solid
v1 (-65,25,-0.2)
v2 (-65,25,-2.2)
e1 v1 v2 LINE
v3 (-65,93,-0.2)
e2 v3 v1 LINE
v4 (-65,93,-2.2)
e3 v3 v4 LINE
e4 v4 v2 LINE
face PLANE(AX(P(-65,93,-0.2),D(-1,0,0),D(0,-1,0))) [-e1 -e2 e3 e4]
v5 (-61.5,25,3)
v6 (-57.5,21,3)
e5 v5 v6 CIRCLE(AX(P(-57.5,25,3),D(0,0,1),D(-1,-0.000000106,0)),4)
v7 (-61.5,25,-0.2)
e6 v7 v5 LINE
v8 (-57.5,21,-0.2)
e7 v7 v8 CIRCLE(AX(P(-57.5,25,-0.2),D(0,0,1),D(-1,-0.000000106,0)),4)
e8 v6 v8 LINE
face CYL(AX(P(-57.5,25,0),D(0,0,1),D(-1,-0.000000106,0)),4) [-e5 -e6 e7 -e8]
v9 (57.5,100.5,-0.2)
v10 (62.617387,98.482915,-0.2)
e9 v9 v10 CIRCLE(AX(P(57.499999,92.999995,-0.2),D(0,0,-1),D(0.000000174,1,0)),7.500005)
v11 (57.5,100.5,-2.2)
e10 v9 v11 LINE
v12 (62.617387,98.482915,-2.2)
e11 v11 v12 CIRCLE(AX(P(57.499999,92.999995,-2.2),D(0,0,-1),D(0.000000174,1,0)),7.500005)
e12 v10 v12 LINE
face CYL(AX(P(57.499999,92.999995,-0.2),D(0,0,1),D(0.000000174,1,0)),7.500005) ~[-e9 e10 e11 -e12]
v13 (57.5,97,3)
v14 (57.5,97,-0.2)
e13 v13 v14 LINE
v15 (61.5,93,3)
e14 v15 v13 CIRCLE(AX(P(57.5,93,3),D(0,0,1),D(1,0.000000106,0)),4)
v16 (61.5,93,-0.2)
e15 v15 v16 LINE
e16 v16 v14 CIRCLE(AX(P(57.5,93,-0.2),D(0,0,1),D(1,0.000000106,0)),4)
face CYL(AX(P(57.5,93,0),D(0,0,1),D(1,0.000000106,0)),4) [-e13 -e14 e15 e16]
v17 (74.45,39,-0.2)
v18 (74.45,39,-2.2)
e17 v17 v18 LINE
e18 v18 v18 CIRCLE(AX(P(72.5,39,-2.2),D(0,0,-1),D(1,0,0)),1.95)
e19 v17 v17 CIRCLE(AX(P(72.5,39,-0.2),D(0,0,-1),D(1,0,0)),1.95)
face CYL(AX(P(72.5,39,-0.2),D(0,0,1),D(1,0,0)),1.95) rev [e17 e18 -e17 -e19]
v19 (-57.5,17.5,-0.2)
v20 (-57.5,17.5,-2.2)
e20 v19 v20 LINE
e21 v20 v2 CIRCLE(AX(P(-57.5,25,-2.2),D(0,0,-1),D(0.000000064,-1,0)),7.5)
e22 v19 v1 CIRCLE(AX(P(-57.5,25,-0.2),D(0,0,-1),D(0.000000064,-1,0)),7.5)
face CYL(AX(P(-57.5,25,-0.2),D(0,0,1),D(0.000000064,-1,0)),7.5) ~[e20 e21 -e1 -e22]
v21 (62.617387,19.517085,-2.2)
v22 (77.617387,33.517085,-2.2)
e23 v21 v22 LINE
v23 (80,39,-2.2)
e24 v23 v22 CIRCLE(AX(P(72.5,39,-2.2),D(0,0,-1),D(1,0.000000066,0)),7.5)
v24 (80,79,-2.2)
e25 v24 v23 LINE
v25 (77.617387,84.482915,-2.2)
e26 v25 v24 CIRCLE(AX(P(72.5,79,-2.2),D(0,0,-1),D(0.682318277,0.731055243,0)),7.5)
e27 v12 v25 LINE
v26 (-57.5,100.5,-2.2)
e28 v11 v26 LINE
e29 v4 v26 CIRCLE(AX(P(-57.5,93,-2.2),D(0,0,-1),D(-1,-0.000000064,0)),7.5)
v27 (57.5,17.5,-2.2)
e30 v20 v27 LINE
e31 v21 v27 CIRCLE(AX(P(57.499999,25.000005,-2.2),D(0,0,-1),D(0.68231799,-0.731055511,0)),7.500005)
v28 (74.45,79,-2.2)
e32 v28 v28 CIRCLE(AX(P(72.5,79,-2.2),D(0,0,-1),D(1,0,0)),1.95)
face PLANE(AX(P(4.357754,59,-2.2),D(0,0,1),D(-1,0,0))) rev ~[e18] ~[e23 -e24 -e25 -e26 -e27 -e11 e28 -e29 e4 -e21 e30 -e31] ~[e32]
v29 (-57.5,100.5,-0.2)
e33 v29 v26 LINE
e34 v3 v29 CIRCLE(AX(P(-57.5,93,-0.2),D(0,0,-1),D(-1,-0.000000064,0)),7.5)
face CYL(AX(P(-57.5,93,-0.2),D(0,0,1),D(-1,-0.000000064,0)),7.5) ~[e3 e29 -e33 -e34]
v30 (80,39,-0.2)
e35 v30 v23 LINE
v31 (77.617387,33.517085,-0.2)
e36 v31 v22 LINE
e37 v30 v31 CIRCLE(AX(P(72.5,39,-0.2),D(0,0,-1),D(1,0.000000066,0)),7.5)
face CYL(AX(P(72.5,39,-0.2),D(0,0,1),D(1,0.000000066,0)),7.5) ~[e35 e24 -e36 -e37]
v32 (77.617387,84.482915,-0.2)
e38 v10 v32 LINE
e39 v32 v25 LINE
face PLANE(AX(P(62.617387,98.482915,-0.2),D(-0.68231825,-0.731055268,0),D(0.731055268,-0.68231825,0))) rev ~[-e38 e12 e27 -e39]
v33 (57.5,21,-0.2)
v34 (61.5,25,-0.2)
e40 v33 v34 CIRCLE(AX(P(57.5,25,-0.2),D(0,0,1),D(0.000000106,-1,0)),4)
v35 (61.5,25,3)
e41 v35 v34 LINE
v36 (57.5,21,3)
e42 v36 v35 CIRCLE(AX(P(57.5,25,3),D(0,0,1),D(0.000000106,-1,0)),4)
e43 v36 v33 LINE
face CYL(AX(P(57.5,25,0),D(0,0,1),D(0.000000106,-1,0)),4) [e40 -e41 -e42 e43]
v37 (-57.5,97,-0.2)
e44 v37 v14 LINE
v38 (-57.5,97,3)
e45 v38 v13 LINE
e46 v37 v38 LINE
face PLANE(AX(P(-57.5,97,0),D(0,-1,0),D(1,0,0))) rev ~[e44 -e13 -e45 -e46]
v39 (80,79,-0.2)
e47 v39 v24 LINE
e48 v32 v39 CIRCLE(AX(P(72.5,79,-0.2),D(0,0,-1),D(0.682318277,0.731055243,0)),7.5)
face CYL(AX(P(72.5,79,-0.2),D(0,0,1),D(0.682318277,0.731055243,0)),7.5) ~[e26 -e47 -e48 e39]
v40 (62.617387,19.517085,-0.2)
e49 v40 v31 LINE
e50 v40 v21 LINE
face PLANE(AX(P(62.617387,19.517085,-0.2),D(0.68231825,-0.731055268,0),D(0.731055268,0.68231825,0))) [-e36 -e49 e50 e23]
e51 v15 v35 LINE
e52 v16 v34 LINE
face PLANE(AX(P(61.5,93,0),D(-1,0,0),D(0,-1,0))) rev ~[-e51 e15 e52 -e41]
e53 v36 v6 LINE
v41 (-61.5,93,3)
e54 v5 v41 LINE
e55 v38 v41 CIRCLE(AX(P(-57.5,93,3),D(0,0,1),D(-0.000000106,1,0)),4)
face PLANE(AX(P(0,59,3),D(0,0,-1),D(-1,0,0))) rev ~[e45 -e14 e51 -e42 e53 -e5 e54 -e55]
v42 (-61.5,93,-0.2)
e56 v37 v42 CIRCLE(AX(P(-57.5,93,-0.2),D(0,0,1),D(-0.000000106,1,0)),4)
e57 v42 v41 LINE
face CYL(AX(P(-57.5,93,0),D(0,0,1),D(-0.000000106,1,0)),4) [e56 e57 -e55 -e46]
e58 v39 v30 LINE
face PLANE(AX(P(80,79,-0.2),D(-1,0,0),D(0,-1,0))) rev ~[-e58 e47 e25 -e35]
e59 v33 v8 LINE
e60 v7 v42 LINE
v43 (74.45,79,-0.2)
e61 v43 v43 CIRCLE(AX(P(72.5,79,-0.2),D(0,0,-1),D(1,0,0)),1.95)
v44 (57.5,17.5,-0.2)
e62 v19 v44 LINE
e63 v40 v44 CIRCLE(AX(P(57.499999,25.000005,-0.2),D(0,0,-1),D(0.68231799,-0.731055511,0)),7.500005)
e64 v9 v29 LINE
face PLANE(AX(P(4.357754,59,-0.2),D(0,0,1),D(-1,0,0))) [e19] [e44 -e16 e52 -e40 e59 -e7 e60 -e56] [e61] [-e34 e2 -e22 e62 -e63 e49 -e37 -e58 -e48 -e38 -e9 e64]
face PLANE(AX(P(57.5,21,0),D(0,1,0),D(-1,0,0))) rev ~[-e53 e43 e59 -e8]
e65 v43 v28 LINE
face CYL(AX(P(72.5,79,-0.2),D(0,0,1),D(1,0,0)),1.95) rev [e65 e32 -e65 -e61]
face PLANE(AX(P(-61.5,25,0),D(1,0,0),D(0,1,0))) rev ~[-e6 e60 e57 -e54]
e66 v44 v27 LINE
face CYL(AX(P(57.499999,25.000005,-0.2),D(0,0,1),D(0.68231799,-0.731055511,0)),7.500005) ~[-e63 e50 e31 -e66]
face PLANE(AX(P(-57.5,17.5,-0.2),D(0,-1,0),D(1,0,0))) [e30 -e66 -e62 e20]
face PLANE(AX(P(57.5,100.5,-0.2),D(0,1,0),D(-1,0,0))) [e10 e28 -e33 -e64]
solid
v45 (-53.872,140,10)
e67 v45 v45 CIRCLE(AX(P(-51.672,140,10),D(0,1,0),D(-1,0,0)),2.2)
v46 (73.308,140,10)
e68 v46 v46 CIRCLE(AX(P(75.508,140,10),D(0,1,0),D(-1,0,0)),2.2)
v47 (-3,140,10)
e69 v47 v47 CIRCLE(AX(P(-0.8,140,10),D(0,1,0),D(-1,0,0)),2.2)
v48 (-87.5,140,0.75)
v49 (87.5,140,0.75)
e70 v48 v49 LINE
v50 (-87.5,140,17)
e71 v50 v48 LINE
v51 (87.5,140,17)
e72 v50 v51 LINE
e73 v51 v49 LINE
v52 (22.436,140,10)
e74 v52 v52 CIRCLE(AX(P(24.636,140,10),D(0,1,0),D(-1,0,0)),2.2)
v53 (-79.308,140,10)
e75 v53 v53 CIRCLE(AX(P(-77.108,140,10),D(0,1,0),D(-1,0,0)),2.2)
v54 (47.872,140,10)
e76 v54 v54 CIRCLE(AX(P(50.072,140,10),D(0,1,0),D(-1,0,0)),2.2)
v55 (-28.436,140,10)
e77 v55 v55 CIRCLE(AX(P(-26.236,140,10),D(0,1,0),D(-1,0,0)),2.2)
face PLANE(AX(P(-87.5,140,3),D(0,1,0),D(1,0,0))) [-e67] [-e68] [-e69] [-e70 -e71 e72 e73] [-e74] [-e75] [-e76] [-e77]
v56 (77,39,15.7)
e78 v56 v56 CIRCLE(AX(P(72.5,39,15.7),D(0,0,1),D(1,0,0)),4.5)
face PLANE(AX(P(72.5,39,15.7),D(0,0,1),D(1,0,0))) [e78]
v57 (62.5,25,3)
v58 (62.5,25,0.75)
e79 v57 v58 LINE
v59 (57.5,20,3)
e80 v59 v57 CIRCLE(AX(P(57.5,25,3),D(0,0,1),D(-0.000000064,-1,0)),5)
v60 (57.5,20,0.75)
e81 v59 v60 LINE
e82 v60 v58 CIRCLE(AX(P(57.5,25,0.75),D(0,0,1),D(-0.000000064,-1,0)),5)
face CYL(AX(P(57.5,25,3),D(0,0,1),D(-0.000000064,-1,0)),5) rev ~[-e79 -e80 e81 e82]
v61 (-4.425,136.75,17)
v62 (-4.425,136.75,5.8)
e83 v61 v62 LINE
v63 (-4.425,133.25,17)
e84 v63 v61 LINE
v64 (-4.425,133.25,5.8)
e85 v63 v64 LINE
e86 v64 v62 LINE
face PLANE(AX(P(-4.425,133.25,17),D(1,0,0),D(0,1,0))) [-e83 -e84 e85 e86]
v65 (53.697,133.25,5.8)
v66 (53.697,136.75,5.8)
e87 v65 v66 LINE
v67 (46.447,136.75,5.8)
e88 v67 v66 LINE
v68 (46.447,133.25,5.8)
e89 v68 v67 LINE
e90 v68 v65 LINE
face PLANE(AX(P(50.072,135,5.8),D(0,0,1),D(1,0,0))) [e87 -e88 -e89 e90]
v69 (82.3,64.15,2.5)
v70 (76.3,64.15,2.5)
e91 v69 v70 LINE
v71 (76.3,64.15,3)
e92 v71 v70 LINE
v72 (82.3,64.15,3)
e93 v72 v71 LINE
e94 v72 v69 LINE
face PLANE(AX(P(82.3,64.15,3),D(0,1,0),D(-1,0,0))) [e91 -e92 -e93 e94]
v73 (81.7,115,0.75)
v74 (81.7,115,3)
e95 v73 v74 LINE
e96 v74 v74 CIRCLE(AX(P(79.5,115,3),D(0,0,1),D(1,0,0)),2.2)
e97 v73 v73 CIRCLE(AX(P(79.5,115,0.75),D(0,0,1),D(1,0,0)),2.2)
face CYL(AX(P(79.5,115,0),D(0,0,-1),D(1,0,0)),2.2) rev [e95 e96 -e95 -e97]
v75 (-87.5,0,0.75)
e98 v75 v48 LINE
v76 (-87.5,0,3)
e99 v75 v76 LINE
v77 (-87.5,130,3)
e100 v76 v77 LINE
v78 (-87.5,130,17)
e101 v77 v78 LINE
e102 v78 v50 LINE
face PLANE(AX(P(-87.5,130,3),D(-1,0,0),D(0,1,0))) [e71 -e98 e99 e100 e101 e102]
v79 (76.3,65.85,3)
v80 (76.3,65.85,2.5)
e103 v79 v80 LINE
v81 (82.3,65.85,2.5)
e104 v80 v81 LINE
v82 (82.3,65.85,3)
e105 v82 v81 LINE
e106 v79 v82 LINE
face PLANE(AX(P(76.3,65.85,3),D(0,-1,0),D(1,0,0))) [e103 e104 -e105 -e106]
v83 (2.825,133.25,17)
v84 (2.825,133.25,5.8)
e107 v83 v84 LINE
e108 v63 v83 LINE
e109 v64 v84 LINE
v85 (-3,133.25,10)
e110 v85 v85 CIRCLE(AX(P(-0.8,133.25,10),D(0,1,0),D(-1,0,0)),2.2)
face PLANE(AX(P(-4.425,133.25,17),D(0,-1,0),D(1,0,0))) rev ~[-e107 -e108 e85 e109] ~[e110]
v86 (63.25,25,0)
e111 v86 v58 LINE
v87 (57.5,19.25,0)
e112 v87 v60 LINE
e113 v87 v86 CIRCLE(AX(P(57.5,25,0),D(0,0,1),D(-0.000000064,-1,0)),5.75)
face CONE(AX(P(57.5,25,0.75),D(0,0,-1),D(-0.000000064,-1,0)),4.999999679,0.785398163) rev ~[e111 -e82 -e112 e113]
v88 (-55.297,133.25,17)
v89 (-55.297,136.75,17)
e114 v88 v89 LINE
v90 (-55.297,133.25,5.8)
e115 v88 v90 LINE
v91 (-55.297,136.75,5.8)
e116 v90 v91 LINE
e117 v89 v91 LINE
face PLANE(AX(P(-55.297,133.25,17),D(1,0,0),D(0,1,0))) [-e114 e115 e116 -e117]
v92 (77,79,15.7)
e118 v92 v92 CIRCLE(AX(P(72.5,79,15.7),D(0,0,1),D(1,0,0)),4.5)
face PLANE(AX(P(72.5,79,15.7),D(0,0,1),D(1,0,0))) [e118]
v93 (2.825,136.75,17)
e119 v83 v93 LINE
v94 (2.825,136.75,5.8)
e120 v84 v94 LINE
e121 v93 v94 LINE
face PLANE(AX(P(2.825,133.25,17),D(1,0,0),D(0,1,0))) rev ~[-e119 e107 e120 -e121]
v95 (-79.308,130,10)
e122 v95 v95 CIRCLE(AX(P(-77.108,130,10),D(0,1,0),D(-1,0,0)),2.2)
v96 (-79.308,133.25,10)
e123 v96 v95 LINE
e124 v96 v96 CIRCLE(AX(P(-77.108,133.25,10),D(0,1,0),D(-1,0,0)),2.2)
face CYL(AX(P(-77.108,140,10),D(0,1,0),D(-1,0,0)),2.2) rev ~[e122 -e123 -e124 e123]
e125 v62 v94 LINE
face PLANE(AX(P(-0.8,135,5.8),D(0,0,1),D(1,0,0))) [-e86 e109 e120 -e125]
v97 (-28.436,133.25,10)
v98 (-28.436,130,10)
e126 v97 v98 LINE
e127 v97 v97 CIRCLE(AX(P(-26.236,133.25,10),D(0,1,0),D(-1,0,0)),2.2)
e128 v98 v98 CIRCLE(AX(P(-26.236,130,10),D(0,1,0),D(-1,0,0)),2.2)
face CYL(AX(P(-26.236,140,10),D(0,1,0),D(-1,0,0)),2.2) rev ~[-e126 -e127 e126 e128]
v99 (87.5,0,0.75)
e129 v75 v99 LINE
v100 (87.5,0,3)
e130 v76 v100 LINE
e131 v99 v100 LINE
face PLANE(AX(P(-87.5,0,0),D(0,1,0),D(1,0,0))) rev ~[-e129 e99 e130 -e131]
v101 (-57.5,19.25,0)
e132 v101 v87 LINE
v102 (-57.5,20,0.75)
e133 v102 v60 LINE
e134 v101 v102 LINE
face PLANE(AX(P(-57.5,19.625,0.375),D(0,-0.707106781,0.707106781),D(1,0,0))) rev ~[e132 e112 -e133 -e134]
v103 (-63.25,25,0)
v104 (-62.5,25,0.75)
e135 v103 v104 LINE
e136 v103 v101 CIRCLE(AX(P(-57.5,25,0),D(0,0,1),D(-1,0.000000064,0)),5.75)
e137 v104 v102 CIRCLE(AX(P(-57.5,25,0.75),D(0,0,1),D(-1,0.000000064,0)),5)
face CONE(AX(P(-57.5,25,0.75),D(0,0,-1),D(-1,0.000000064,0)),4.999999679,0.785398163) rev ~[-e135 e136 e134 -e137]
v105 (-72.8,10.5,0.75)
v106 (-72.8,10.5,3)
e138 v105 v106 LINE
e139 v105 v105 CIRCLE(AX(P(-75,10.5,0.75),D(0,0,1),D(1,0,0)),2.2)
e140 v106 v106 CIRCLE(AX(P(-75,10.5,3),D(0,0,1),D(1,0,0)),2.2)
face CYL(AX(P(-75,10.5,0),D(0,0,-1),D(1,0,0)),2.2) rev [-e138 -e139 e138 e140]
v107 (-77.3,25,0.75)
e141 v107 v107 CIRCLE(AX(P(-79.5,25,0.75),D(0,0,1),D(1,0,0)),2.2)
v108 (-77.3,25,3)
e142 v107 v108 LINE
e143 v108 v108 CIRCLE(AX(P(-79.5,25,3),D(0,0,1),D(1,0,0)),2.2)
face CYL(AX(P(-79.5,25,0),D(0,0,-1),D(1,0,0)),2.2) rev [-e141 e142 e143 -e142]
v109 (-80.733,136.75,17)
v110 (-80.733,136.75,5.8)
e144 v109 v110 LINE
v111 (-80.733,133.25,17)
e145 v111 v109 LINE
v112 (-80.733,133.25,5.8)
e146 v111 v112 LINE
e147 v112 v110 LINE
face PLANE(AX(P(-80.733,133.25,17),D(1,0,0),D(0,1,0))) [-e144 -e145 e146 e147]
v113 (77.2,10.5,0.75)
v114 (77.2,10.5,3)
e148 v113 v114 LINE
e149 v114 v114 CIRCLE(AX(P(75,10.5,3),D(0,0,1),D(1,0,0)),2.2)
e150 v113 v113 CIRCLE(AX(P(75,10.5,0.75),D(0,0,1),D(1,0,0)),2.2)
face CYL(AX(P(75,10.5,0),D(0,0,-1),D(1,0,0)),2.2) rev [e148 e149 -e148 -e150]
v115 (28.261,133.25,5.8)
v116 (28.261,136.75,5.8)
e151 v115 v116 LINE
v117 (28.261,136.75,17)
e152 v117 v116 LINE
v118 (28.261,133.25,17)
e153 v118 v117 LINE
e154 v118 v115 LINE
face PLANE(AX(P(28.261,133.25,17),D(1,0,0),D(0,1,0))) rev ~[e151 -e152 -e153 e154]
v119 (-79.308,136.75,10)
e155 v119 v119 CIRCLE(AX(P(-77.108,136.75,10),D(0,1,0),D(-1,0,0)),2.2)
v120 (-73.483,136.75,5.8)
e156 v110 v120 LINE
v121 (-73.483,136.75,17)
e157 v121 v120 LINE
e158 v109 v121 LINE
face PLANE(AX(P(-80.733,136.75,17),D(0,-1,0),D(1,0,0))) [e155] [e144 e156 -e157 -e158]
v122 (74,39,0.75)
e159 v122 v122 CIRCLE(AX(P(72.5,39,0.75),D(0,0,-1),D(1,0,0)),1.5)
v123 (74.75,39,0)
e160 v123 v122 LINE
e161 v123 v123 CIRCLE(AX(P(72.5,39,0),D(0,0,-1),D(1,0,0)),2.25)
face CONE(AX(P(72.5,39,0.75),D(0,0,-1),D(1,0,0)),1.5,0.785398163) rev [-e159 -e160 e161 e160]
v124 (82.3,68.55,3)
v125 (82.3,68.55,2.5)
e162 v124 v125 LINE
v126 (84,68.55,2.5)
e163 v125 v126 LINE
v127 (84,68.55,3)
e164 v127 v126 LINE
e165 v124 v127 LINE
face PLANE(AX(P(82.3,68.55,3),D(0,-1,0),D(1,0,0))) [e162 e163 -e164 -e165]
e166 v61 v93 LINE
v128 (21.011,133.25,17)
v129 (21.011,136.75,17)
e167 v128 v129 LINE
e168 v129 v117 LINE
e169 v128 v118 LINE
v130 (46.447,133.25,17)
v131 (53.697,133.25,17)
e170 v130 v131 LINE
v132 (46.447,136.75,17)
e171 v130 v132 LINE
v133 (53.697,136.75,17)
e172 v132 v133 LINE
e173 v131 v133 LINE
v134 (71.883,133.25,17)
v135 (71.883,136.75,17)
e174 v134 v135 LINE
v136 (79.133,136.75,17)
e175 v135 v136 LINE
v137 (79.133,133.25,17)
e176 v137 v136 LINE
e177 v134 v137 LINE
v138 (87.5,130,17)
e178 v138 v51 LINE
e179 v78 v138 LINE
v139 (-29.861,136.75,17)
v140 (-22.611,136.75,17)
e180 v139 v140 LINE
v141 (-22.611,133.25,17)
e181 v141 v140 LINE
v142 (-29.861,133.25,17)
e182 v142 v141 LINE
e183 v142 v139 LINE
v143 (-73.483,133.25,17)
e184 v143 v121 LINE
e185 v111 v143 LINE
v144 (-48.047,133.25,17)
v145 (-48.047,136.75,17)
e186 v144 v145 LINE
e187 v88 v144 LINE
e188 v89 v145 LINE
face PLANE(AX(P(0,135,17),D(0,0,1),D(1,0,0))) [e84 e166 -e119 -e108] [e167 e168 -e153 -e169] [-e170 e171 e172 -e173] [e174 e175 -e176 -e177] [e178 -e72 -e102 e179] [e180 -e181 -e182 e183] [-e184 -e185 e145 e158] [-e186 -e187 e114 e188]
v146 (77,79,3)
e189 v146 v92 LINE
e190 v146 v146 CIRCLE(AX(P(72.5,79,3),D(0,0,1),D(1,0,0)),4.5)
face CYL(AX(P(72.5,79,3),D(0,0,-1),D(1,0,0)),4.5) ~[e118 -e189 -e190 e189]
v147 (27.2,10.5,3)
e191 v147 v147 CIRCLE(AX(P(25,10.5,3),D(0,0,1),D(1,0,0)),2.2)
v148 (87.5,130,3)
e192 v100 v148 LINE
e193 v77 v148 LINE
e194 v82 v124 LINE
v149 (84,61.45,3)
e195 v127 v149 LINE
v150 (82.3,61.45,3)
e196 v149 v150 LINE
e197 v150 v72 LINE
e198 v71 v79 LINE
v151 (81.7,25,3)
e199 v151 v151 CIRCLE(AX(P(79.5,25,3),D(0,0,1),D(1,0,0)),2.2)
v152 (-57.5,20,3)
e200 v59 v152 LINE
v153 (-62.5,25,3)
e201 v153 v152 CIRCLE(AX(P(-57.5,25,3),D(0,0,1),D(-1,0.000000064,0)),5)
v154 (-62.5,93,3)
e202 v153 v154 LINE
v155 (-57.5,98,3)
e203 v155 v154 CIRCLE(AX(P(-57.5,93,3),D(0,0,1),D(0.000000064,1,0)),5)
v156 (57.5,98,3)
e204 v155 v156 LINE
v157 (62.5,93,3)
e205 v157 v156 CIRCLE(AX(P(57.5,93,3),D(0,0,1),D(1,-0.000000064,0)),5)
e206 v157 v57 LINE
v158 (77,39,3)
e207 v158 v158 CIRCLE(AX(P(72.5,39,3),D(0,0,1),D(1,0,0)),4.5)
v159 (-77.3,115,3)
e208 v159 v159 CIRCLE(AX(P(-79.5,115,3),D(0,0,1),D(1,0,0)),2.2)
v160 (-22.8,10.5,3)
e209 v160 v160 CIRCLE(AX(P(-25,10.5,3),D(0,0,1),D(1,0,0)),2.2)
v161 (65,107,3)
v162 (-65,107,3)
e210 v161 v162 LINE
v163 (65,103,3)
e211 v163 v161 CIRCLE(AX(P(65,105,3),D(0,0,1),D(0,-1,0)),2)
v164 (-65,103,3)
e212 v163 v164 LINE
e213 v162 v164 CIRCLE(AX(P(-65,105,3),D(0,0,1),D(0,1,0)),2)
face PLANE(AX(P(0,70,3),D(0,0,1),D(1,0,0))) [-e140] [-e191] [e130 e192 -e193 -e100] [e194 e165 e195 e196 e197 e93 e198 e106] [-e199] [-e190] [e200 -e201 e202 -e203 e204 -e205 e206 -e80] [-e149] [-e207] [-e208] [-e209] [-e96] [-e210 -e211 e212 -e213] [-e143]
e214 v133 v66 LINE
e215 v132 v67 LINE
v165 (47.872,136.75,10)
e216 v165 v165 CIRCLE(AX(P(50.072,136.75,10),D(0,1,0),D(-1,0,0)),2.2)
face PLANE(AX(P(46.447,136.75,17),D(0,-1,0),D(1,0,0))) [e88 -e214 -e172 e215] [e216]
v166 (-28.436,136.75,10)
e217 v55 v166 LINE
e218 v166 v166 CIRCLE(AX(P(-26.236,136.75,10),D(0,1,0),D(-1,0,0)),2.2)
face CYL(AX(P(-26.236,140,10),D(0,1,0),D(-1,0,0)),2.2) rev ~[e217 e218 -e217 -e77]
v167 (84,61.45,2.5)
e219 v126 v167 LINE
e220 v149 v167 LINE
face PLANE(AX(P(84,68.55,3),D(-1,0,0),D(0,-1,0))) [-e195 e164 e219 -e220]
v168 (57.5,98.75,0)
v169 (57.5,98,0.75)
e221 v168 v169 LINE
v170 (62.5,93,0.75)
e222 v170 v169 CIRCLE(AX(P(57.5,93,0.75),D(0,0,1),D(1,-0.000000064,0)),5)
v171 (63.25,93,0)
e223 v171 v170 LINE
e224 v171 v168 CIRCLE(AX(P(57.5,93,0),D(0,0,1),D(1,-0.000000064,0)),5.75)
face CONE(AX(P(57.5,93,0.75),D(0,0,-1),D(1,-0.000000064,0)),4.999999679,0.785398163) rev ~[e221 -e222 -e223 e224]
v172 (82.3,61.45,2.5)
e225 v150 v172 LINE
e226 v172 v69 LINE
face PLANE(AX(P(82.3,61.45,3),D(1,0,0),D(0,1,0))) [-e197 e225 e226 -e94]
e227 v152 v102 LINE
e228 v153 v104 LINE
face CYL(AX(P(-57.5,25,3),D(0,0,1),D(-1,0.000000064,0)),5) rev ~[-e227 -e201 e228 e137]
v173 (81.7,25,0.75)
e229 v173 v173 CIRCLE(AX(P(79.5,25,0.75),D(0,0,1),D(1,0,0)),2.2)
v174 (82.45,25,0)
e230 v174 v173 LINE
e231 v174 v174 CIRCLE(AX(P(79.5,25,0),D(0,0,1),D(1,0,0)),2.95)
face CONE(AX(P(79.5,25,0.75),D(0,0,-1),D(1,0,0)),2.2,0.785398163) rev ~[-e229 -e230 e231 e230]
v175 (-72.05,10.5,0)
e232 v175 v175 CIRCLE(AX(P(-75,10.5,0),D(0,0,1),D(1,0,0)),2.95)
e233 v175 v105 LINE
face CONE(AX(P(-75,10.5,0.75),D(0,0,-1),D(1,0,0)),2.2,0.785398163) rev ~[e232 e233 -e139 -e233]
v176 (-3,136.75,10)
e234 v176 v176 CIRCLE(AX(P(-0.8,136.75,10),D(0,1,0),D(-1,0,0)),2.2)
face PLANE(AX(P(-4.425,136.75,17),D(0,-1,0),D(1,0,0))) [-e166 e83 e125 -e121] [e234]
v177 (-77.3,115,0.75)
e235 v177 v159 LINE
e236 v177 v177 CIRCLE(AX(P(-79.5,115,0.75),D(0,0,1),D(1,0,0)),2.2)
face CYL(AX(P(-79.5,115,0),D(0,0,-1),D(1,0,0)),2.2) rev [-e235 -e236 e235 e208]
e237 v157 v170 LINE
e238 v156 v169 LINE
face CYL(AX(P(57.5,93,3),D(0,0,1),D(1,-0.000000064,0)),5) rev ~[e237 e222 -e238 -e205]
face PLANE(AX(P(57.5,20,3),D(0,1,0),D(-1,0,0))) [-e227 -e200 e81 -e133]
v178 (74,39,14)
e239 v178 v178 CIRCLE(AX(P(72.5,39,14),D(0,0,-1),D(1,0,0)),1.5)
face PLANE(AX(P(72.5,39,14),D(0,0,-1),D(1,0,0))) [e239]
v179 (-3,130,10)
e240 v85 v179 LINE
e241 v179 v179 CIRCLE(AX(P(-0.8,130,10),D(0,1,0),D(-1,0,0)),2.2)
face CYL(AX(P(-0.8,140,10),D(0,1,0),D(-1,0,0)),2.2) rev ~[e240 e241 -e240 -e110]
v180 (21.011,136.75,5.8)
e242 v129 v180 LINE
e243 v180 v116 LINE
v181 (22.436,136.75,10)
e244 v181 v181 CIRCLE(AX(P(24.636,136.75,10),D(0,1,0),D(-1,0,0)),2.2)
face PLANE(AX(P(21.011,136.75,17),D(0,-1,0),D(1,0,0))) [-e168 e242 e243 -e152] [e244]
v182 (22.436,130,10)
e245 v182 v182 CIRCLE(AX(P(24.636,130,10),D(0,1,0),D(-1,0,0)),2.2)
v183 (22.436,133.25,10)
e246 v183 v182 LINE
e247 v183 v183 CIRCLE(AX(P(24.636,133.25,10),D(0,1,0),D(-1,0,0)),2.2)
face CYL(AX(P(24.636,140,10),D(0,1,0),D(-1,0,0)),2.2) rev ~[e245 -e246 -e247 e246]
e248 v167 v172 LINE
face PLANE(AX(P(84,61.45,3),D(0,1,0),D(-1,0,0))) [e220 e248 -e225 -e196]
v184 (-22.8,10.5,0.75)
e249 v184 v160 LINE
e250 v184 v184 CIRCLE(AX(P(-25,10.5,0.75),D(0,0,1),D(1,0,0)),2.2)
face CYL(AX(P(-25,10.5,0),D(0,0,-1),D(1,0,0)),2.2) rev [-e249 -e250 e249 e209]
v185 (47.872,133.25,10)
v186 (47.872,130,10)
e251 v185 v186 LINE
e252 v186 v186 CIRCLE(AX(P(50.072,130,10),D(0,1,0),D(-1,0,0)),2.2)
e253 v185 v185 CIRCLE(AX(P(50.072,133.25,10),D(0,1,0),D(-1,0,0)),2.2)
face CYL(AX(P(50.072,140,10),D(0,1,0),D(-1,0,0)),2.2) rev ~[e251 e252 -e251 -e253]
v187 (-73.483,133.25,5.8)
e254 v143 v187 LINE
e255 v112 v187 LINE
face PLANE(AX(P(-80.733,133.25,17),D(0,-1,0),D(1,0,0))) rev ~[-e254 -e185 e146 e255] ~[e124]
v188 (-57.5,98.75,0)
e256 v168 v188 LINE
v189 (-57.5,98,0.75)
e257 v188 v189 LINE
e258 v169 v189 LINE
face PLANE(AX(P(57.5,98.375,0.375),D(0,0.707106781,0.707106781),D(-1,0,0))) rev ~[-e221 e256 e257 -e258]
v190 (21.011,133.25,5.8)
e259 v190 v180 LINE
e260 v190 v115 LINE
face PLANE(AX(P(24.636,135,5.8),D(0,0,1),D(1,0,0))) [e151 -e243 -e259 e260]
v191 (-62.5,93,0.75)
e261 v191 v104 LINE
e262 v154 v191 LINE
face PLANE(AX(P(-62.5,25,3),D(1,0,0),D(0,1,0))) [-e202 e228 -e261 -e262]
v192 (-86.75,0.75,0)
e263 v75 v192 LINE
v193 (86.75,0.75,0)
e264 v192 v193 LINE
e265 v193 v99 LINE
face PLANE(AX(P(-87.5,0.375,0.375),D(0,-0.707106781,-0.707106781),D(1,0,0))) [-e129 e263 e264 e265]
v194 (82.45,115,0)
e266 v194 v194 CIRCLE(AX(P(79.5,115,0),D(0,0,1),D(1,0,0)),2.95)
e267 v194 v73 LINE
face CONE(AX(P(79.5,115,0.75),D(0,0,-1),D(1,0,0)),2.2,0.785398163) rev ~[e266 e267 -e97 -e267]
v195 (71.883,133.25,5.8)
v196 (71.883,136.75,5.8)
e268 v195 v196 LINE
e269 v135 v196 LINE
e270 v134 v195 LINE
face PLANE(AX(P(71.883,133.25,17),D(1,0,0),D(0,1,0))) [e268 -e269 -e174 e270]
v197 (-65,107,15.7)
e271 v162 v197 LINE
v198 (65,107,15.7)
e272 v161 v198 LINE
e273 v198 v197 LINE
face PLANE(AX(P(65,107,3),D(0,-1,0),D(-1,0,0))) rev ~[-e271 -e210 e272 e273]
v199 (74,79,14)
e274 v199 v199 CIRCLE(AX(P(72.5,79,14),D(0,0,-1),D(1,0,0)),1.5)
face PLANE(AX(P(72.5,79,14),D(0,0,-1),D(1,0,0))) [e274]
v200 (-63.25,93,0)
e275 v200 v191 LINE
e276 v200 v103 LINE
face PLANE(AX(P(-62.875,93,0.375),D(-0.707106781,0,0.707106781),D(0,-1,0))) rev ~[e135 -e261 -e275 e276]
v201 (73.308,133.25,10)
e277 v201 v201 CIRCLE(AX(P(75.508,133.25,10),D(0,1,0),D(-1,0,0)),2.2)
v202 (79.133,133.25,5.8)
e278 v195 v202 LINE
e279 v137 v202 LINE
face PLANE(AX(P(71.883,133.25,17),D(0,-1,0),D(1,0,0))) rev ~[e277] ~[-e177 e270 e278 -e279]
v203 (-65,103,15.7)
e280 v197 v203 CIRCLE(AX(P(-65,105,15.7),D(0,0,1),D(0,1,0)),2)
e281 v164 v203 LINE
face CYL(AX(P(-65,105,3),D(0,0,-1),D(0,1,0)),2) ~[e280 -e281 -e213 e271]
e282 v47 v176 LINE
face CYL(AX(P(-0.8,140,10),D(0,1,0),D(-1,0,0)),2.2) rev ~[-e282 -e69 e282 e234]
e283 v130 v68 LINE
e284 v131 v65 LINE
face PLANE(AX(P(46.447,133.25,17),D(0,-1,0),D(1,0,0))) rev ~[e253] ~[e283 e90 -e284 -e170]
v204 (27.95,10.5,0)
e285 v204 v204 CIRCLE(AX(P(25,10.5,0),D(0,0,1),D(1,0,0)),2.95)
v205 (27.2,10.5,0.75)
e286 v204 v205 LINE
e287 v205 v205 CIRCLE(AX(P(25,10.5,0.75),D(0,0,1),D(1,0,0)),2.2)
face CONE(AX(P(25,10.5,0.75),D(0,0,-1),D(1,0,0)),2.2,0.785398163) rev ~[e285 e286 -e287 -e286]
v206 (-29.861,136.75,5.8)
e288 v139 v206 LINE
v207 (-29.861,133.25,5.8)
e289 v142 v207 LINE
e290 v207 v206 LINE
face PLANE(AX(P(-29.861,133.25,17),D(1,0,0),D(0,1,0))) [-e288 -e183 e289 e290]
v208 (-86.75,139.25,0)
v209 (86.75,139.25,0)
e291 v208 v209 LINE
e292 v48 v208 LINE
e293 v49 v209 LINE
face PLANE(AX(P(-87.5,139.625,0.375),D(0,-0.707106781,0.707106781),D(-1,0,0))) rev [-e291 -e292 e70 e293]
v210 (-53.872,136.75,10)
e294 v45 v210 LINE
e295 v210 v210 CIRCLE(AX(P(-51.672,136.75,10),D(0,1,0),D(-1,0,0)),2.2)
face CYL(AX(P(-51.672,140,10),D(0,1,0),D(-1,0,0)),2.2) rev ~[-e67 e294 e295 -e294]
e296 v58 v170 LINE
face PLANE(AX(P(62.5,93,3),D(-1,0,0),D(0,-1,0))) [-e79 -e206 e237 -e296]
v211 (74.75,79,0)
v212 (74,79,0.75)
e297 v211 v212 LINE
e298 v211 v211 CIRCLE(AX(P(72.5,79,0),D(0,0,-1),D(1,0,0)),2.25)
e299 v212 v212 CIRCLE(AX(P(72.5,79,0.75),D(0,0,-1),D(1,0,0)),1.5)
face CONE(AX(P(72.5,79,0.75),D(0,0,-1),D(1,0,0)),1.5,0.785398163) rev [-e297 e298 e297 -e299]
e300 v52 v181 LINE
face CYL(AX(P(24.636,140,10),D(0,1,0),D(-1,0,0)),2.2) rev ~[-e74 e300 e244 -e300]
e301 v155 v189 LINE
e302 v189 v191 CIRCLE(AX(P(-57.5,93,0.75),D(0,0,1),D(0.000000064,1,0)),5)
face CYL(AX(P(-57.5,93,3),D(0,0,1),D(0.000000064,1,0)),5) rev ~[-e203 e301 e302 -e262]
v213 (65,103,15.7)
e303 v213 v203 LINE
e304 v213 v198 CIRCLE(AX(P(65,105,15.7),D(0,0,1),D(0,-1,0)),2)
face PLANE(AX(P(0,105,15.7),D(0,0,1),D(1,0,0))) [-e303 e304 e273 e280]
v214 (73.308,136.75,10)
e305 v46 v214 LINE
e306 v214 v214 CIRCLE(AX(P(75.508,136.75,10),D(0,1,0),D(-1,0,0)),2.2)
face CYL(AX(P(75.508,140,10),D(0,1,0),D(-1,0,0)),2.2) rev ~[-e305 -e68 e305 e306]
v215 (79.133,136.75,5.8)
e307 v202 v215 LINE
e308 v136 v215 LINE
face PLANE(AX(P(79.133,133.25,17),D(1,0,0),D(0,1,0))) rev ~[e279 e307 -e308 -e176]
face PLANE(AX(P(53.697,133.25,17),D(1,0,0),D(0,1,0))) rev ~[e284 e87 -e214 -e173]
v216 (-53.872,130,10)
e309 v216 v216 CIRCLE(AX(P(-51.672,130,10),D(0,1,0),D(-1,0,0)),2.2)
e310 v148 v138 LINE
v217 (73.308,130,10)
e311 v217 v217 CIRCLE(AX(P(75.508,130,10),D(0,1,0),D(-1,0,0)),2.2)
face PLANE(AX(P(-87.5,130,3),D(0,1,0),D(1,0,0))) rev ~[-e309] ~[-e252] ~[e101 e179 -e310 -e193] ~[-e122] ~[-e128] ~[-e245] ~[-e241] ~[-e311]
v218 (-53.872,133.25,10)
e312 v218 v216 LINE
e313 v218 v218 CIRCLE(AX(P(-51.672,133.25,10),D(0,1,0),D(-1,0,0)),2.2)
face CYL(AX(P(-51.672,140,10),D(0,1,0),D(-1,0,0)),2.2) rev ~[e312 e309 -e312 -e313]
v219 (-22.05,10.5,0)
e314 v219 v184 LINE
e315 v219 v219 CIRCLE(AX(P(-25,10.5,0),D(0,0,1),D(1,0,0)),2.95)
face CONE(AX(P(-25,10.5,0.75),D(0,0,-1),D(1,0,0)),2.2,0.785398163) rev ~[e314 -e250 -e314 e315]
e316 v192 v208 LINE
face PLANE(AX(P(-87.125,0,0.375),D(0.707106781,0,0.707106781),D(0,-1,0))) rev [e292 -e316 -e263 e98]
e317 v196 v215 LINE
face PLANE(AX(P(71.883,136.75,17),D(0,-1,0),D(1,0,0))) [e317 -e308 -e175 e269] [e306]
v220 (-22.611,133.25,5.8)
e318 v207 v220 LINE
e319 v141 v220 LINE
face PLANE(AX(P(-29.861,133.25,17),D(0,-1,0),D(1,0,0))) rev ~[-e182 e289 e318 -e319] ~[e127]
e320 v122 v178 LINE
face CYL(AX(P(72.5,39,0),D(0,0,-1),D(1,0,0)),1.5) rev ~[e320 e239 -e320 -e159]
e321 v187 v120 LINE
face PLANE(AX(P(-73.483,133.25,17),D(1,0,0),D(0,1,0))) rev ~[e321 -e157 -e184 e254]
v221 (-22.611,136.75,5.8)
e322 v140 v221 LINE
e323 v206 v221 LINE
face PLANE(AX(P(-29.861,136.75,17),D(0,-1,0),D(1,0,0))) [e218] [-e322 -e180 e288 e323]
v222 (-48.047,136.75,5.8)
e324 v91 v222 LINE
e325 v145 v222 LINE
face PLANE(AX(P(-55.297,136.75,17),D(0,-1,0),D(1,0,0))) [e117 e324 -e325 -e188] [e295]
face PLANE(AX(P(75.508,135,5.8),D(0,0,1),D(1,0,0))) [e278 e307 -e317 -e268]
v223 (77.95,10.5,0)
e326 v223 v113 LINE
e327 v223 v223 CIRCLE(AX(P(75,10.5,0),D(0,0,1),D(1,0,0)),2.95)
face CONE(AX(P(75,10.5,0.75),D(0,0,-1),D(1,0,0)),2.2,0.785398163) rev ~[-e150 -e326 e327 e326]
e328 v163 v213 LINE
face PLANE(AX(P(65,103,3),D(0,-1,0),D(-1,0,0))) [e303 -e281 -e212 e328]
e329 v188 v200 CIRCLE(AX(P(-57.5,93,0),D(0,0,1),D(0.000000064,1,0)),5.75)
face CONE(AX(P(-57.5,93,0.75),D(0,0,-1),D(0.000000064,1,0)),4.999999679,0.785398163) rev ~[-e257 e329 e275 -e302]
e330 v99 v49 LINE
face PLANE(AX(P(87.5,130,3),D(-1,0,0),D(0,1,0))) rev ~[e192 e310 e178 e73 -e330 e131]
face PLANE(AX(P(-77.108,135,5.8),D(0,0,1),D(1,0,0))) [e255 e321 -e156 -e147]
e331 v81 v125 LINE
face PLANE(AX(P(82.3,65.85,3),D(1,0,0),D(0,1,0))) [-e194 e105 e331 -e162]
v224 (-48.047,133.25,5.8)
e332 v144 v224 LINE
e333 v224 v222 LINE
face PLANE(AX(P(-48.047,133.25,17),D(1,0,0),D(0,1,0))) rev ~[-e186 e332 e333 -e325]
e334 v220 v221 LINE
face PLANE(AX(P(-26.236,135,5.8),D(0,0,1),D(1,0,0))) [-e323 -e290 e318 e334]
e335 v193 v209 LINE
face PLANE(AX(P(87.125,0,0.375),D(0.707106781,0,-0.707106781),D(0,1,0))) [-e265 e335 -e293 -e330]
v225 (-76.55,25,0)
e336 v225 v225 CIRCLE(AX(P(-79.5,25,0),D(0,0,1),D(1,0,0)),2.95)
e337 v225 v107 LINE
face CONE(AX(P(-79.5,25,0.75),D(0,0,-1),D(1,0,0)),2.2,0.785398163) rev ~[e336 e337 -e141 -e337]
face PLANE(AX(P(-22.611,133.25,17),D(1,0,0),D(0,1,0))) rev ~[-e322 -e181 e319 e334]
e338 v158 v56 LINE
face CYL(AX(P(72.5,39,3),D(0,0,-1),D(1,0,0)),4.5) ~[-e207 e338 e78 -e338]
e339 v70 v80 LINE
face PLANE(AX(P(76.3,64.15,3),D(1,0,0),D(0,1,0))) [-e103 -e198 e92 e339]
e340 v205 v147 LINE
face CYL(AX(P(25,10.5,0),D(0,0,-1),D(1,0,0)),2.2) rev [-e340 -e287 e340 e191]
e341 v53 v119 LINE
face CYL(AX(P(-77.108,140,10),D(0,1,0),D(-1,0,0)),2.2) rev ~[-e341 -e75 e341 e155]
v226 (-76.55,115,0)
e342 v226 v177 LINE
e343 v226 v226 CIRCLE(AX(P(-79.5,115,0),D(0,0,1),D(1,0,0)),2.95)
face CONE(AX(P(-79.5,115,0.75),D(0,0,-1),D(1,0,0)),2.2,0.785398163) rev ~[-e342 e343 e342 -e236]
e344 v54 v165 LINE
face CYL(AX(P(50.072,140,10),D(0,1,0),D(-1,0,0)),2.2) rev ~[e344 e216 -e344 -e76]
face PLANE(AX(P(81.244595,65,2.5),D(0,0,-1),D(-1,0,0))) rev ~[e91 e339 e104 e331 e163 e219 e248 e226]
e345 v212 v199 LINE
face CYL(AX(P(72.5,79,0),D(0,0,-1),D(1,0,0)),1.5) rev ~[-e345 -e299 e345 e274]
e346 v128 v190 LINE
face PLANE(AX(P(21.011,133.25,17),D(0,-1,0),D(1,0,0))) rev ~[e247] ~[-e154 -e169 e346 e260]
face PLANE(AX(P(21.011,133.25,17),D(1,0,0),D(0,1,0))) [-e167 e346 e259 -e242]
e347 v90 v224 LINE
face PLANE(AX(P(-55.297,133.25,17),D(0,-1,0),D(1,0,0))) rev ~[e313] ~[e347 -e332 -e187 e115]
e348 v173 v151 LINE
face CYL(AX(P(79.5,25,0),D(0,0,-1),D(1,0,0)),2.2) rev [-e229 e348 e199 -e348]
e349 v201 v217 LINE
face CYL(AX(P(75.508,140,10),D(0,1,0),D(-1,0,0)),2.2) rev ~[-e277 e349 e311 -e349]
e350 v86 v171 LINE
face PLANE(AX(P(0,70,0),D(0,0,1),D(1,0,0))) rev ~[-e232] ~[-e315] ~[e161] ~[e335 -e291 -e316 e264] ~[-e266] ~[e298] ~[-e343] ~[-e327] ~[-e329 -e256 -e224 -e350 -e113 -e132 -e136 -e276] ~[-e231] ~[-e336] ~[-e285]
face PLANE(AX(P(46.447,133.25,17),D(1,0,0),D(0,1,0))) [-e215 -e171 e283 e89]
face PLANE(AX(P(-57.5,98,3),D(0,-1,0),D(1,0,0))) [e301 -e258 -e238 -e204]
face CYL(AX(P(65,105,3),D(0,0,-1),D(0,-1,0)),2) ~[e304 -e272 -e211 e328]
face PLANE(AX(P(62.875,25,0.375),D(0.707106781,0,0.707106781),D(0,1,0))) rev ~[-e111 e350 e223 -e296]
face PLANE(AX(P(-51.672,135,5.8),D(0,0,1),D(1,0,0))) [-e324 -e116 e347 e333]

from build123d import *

# Parameters (mm, degrees)
SKETCH_W            = 175
SKETCH_H            = 140
SKETCH_R            = 2.2
PAD_DEPTH           = 3
SKETCH001_W         = 175
SKETCH001_H         = 10
PAD001_DEPTH        = 14
SKETCH002_R         = 2.2
POCKET_DEPTH        = 140.001
SKETCH003_W         = 7.25
SKETCH003_H         = 3.5
POCKET001_DEPTH     = 11.2
LINEARPATTERN_COUNT = 7
LINEARPATTERN_PITCH = 25.436
POCKET002_DEPTH     = 0.5
PAD002_DEPTH        = 12.7
POCKET003_DEPTH     = 3.001
SKETCH007_R         = 4.5
PAD003_DEPTH        = 12.7
SKETCH008_R         = 1.5
POCKET004_DEPTH     = 14
CHAMFER_SIZE        = 0.75
PAD004_DEPTH        = 3
PAD004_DEPTH_BACK   = 0.2
SKETCH010_R         = 1.95
PAD005_DEPTH        = 2


with BuildPart() as sideplate:
    # Sketch → Pad (new body)
    with BuildSketch(Plane.XY):
        with Locations((0, 70)):
            Rectangle(SKETCH_W, SKETCH_H)
        with Locations((-79.5, 115)):
            Circle(SKETCH_R, mode=Mode.SUBTRACT)
        with Locations((79.5, 115)):
            Circle(SKETCH_R, mode=Mode.SUBTRACT)
        with Locations((79.5, 25)):
            Circle(SKETCH_R, mode=Mode.SUBTRACT)
        with Locations((-79.5, 25)):
            Circle(SKETCH_R, mode=Mode.SUBTRACT)
        with Locations((-75, 10.5)):
            Circle(SKETCH_R, mode=Mode.SUBTRACT)
        with Locations((-25, 10.5)):
            Circle(SKETCH_R, mode=Mode.SUBTRACT)
        with Locations((25, 10.5)):
            Circle(SKETCH_R, mode=Mode.SUBTRACT)
        with Locations((75, 10.5)):
            Circle(SKETCH_R, mode=Mode.SUBTRACT)
    extrude(amount=PAD_DEPTH)

    # Sketch001 (on Face14 of Pad) → Pad001 (join)
    with BuildSketch(Plane.XY.offset(3)):
        with Locations((0, 135)):
            Rectangle(SKETCH001_W, SKETCH001_H)
    extrude(amount=PAD001_DEPTH)

    # Sketch002 (on Face5 of Pad001) → Pocket (cut, through all)
    with BuildSketch(Plane(origin=(0, 140, 0), x_dir=(-1, 0, 0), z_dir=(0, 1, 0))):
        with Locations((-75.508, 10)):
            Circle(SKETCH002_R)
        with Locations((-50.072, 10)):
            Circle(SKETCH002_R)
        with Locations((-24.636, 10)):
            Circle(SKETCH002_R)
        with Locations((0.8, 10)):
            Circle(SKETCH002_R)
        with Locations((26.236, 10)):
            Circle(SKETCH002_R)
        with Locations((51.672, 10)):
            Circle(SKETCH002_R)
        with Locations((77.108, 10)):
            Circle(SKETCH002_R)
    extrude(amount=-POCKET_DEPTH, mode=Mode.SUBTRACT)

    # Sketch003 (on Face18 of Pocket) → Pocket001 (cut)
    with BuildSketch(Plane.XY.offset(17)):
        with Locations((75.508, 135)):
            Rectangle(SKETCH003_W, SKETCH003_H)
    pocket001 = extrude(amount=-POCKET001_DEPTH, mode=Mode.SUBTRACT)

    # LinearPattern: Pocket001 ×7
    with Locations(*[(-i * LINEARPATTERN_PITCH, 0, 0) for i in range(1, LINEARPATTERN_COUNT)]):
        add(pocket001, mode=Mode.SUBTRACT)

    # Sketch004 (on Face7 of LinearPattern) → Pocket002 (cut)
    with BuildSketch(Plane.XY.offset(3)):
        Polygon((84, 68.55), (84, 61.45), (82.3, 61.45), (82.3, 64.15), (76.3, 64.15), (76.3, 65.85), (82.3, 65.85), (82.3, 68.55), align=None)
    extrude(amount=-POCKET002_DEPTH, mode=Mode.SUBTRACT)

    # Sketch005 (on Face7 of Pocket002) → Pad002 (join)
    with BuildSketch(Plane.XY.offset(3)):
        with BuildLine():
            ThreePointArc((65, 103), (67, 105), (65, 107))
            Line((65, 107), (-65, 107))
            ThreePointArc((-65, 107), (-67, 105), (-65, 103))
            Line((65, 103), (-65, 103))
        make_face()
    extrude(amount=PAD002_DEPTH)

    # Sketch006 (on Face7 of Pad002) → Pocket003 (cut, through all)
    with BuildSketch(Plane.XY.offset(3)):
        with BuildLine():
            Line((-57.5, 98), (57.5, 98))
            ThreePointArc((62.5, 93), (61.035534, 96.535534), (57.5, 98))
            Line((62.5, 93), (62.5, 25))
            ThreePointArc((57.5, 20), (61.035534, 21.464466), (62.5, 25))
            Line((57.5, 20), (-57.5, 20))
            ThreePointArc((-62.5, 25), (-61.035534, 21.464466), (-57.5, 20))
            Line((-62.5, 25), (-62.5, 93))
            ThreePointArc((-57.5, 98), (-61.035534, 96.535534), (-62.5, 93))
        make_face()
    extrude(amount=-POCKET003_DEPTH, mode=Mode.SUBTRACT)

    # Sketch007 (on Face7 of Pocket003) → Pad003 (join)
    with BuildSketch(Plane.XY.offset(3)):
        with Locations((72.5, 79)):
            Circle(SKETCH007_R)
        with Locations((72.5, 39)):
            Circle(SKETCH007_R)
    extrude(amount=PAD003_DEPTH)

    # Sketch008 (on Face4 of Pad003) → Pocket004 (cut)
    with BuildSketch(Plane(origin=(0, 0, 0), x_dir=(1, 0, 0), z_dir=(0, 0, -1))):
        with Locations((72.5, -79)):
            Circle(SKETCH008_R)
        with Locations((72.5, -39)):
            Circle(SKETCH008_R)
    extrude(amount=-POCKET004_DEPTH, mode=Mode.SUBTRACT)

    # Chamfer
    chamfer_edges = [sideplate.edges().sort_by_distance(p)[0] for p in [
        (0, 140, 0),
        (-87.5, 70, 0),
        (87.5, 70, 0),
        (0, 0, 0),
        (-77.2, 10.5, 0),
        (-27.2, 10.5, 0),
        (71, 39, 0),
        (72.8, 10.5, 0),
        (71, 79, 0),
        (22.8, 10.5, 0),
        (61.035534, 96.535534, 0),
        (62.5, 59, 0),
        (0, 98, 0),
        (61.035534, 21.464466, 0),
        (-61.035534, 96.535534, 0),
        (0, 20, 0),
        (-62.5, 59, 0),
        (-61.035534, 21.464466, 0),
        (77.3, 115, 0),
        (77.3, 25, 0),
        (-81.7, 115, 0),
        (-81.7, 25, 0),
    ]]
    chamfer(chamfer_edges, length=CHAMFER_SIZE)


with BuildPart() as vented_cover:
    # Sketch009 → Pad004 (new body, two sides)
    with BuildSketch(Plane.XY) as pad004_sk:
        with BuildLine():
            Line((-57.5, 97), (57.5, 97))
            ThreePointArc((61.5, 93), (60.328427, 95.828427), (57.5, 97))
            Line((61.5, 93), (61.5, 25))
            ThreePointArc((57.5, 21), (60.328427, 22.171573), (61.5, 25))
            Line((57.5, 21), (-57.5, 21))
            ThreePointArc((-61.5, 25), (-60.328427, 22.171573), (-57.5, 21))
            Line((-61.5, 25), (-61.5, 93))
            ThreePointArc((-57.5, 97), (-60.328427, 95.828427), (-61.5, 93))
        make_face()
    extrude(amount=PAD004_DEPTH)
    extrude(pad004_sk.sketch, amount=-PAD004_DEPTH_BACK)

    # Sketch010 (on Face9 of Pad004) → Pad005 (join)
    with BuildSketch(Plane(origin=(0, 0, -0.2), x_dir=(1, 0, 0), z_dir=(0, 0, -1))):
        with BuildLine():
            Line((57.5, -100.5), (-57.5, -100.5))
            ThreePointArc((-65, -93), (-62.803301, -98.303301), (-57.5, -100.5))
            Line((-65, -93), (-65, -25))
            ThreePointArc((-57.5, -17.5), (-62.803301, -19.696699), (-65, -25))
            Line((-57.5, -17.5), (57.5, -17.5))
            ThreePointArc((62.617387, -19.517085), (60.250286, -18.02247), (57.5, -17.5))
            Line((62.617387, -19.517085), (77.617387, -33.517085))
            ThreePointArc((80, -39), (79.378605, -36.010887), (77.617387, -33.517085))
            Line((80, -79), (80, -39))
            ThreePointArc((77.617387, -84.482915), (79.378605, -81.989113), (80, -79))
            Line((62.617387, -98.482915), (77.617387, -84.482915))
            ThreePointArc((57.5, -100.5), (60.250286, -99.97753), (62.617387, -98.482915))
        make_face()
        with Locations((72.5, -39)):
            Circle(SKETCH010_R, mode=Mode.SUBTRACT)
        with Locations((72.5, -79)):
            Circle(SKETCH010_R, mode=Mode.SUBTRACT)
    extrude(amount=PAD005_DEPTH)


solid = Compound([sideplate.part, vented_cover.part])
